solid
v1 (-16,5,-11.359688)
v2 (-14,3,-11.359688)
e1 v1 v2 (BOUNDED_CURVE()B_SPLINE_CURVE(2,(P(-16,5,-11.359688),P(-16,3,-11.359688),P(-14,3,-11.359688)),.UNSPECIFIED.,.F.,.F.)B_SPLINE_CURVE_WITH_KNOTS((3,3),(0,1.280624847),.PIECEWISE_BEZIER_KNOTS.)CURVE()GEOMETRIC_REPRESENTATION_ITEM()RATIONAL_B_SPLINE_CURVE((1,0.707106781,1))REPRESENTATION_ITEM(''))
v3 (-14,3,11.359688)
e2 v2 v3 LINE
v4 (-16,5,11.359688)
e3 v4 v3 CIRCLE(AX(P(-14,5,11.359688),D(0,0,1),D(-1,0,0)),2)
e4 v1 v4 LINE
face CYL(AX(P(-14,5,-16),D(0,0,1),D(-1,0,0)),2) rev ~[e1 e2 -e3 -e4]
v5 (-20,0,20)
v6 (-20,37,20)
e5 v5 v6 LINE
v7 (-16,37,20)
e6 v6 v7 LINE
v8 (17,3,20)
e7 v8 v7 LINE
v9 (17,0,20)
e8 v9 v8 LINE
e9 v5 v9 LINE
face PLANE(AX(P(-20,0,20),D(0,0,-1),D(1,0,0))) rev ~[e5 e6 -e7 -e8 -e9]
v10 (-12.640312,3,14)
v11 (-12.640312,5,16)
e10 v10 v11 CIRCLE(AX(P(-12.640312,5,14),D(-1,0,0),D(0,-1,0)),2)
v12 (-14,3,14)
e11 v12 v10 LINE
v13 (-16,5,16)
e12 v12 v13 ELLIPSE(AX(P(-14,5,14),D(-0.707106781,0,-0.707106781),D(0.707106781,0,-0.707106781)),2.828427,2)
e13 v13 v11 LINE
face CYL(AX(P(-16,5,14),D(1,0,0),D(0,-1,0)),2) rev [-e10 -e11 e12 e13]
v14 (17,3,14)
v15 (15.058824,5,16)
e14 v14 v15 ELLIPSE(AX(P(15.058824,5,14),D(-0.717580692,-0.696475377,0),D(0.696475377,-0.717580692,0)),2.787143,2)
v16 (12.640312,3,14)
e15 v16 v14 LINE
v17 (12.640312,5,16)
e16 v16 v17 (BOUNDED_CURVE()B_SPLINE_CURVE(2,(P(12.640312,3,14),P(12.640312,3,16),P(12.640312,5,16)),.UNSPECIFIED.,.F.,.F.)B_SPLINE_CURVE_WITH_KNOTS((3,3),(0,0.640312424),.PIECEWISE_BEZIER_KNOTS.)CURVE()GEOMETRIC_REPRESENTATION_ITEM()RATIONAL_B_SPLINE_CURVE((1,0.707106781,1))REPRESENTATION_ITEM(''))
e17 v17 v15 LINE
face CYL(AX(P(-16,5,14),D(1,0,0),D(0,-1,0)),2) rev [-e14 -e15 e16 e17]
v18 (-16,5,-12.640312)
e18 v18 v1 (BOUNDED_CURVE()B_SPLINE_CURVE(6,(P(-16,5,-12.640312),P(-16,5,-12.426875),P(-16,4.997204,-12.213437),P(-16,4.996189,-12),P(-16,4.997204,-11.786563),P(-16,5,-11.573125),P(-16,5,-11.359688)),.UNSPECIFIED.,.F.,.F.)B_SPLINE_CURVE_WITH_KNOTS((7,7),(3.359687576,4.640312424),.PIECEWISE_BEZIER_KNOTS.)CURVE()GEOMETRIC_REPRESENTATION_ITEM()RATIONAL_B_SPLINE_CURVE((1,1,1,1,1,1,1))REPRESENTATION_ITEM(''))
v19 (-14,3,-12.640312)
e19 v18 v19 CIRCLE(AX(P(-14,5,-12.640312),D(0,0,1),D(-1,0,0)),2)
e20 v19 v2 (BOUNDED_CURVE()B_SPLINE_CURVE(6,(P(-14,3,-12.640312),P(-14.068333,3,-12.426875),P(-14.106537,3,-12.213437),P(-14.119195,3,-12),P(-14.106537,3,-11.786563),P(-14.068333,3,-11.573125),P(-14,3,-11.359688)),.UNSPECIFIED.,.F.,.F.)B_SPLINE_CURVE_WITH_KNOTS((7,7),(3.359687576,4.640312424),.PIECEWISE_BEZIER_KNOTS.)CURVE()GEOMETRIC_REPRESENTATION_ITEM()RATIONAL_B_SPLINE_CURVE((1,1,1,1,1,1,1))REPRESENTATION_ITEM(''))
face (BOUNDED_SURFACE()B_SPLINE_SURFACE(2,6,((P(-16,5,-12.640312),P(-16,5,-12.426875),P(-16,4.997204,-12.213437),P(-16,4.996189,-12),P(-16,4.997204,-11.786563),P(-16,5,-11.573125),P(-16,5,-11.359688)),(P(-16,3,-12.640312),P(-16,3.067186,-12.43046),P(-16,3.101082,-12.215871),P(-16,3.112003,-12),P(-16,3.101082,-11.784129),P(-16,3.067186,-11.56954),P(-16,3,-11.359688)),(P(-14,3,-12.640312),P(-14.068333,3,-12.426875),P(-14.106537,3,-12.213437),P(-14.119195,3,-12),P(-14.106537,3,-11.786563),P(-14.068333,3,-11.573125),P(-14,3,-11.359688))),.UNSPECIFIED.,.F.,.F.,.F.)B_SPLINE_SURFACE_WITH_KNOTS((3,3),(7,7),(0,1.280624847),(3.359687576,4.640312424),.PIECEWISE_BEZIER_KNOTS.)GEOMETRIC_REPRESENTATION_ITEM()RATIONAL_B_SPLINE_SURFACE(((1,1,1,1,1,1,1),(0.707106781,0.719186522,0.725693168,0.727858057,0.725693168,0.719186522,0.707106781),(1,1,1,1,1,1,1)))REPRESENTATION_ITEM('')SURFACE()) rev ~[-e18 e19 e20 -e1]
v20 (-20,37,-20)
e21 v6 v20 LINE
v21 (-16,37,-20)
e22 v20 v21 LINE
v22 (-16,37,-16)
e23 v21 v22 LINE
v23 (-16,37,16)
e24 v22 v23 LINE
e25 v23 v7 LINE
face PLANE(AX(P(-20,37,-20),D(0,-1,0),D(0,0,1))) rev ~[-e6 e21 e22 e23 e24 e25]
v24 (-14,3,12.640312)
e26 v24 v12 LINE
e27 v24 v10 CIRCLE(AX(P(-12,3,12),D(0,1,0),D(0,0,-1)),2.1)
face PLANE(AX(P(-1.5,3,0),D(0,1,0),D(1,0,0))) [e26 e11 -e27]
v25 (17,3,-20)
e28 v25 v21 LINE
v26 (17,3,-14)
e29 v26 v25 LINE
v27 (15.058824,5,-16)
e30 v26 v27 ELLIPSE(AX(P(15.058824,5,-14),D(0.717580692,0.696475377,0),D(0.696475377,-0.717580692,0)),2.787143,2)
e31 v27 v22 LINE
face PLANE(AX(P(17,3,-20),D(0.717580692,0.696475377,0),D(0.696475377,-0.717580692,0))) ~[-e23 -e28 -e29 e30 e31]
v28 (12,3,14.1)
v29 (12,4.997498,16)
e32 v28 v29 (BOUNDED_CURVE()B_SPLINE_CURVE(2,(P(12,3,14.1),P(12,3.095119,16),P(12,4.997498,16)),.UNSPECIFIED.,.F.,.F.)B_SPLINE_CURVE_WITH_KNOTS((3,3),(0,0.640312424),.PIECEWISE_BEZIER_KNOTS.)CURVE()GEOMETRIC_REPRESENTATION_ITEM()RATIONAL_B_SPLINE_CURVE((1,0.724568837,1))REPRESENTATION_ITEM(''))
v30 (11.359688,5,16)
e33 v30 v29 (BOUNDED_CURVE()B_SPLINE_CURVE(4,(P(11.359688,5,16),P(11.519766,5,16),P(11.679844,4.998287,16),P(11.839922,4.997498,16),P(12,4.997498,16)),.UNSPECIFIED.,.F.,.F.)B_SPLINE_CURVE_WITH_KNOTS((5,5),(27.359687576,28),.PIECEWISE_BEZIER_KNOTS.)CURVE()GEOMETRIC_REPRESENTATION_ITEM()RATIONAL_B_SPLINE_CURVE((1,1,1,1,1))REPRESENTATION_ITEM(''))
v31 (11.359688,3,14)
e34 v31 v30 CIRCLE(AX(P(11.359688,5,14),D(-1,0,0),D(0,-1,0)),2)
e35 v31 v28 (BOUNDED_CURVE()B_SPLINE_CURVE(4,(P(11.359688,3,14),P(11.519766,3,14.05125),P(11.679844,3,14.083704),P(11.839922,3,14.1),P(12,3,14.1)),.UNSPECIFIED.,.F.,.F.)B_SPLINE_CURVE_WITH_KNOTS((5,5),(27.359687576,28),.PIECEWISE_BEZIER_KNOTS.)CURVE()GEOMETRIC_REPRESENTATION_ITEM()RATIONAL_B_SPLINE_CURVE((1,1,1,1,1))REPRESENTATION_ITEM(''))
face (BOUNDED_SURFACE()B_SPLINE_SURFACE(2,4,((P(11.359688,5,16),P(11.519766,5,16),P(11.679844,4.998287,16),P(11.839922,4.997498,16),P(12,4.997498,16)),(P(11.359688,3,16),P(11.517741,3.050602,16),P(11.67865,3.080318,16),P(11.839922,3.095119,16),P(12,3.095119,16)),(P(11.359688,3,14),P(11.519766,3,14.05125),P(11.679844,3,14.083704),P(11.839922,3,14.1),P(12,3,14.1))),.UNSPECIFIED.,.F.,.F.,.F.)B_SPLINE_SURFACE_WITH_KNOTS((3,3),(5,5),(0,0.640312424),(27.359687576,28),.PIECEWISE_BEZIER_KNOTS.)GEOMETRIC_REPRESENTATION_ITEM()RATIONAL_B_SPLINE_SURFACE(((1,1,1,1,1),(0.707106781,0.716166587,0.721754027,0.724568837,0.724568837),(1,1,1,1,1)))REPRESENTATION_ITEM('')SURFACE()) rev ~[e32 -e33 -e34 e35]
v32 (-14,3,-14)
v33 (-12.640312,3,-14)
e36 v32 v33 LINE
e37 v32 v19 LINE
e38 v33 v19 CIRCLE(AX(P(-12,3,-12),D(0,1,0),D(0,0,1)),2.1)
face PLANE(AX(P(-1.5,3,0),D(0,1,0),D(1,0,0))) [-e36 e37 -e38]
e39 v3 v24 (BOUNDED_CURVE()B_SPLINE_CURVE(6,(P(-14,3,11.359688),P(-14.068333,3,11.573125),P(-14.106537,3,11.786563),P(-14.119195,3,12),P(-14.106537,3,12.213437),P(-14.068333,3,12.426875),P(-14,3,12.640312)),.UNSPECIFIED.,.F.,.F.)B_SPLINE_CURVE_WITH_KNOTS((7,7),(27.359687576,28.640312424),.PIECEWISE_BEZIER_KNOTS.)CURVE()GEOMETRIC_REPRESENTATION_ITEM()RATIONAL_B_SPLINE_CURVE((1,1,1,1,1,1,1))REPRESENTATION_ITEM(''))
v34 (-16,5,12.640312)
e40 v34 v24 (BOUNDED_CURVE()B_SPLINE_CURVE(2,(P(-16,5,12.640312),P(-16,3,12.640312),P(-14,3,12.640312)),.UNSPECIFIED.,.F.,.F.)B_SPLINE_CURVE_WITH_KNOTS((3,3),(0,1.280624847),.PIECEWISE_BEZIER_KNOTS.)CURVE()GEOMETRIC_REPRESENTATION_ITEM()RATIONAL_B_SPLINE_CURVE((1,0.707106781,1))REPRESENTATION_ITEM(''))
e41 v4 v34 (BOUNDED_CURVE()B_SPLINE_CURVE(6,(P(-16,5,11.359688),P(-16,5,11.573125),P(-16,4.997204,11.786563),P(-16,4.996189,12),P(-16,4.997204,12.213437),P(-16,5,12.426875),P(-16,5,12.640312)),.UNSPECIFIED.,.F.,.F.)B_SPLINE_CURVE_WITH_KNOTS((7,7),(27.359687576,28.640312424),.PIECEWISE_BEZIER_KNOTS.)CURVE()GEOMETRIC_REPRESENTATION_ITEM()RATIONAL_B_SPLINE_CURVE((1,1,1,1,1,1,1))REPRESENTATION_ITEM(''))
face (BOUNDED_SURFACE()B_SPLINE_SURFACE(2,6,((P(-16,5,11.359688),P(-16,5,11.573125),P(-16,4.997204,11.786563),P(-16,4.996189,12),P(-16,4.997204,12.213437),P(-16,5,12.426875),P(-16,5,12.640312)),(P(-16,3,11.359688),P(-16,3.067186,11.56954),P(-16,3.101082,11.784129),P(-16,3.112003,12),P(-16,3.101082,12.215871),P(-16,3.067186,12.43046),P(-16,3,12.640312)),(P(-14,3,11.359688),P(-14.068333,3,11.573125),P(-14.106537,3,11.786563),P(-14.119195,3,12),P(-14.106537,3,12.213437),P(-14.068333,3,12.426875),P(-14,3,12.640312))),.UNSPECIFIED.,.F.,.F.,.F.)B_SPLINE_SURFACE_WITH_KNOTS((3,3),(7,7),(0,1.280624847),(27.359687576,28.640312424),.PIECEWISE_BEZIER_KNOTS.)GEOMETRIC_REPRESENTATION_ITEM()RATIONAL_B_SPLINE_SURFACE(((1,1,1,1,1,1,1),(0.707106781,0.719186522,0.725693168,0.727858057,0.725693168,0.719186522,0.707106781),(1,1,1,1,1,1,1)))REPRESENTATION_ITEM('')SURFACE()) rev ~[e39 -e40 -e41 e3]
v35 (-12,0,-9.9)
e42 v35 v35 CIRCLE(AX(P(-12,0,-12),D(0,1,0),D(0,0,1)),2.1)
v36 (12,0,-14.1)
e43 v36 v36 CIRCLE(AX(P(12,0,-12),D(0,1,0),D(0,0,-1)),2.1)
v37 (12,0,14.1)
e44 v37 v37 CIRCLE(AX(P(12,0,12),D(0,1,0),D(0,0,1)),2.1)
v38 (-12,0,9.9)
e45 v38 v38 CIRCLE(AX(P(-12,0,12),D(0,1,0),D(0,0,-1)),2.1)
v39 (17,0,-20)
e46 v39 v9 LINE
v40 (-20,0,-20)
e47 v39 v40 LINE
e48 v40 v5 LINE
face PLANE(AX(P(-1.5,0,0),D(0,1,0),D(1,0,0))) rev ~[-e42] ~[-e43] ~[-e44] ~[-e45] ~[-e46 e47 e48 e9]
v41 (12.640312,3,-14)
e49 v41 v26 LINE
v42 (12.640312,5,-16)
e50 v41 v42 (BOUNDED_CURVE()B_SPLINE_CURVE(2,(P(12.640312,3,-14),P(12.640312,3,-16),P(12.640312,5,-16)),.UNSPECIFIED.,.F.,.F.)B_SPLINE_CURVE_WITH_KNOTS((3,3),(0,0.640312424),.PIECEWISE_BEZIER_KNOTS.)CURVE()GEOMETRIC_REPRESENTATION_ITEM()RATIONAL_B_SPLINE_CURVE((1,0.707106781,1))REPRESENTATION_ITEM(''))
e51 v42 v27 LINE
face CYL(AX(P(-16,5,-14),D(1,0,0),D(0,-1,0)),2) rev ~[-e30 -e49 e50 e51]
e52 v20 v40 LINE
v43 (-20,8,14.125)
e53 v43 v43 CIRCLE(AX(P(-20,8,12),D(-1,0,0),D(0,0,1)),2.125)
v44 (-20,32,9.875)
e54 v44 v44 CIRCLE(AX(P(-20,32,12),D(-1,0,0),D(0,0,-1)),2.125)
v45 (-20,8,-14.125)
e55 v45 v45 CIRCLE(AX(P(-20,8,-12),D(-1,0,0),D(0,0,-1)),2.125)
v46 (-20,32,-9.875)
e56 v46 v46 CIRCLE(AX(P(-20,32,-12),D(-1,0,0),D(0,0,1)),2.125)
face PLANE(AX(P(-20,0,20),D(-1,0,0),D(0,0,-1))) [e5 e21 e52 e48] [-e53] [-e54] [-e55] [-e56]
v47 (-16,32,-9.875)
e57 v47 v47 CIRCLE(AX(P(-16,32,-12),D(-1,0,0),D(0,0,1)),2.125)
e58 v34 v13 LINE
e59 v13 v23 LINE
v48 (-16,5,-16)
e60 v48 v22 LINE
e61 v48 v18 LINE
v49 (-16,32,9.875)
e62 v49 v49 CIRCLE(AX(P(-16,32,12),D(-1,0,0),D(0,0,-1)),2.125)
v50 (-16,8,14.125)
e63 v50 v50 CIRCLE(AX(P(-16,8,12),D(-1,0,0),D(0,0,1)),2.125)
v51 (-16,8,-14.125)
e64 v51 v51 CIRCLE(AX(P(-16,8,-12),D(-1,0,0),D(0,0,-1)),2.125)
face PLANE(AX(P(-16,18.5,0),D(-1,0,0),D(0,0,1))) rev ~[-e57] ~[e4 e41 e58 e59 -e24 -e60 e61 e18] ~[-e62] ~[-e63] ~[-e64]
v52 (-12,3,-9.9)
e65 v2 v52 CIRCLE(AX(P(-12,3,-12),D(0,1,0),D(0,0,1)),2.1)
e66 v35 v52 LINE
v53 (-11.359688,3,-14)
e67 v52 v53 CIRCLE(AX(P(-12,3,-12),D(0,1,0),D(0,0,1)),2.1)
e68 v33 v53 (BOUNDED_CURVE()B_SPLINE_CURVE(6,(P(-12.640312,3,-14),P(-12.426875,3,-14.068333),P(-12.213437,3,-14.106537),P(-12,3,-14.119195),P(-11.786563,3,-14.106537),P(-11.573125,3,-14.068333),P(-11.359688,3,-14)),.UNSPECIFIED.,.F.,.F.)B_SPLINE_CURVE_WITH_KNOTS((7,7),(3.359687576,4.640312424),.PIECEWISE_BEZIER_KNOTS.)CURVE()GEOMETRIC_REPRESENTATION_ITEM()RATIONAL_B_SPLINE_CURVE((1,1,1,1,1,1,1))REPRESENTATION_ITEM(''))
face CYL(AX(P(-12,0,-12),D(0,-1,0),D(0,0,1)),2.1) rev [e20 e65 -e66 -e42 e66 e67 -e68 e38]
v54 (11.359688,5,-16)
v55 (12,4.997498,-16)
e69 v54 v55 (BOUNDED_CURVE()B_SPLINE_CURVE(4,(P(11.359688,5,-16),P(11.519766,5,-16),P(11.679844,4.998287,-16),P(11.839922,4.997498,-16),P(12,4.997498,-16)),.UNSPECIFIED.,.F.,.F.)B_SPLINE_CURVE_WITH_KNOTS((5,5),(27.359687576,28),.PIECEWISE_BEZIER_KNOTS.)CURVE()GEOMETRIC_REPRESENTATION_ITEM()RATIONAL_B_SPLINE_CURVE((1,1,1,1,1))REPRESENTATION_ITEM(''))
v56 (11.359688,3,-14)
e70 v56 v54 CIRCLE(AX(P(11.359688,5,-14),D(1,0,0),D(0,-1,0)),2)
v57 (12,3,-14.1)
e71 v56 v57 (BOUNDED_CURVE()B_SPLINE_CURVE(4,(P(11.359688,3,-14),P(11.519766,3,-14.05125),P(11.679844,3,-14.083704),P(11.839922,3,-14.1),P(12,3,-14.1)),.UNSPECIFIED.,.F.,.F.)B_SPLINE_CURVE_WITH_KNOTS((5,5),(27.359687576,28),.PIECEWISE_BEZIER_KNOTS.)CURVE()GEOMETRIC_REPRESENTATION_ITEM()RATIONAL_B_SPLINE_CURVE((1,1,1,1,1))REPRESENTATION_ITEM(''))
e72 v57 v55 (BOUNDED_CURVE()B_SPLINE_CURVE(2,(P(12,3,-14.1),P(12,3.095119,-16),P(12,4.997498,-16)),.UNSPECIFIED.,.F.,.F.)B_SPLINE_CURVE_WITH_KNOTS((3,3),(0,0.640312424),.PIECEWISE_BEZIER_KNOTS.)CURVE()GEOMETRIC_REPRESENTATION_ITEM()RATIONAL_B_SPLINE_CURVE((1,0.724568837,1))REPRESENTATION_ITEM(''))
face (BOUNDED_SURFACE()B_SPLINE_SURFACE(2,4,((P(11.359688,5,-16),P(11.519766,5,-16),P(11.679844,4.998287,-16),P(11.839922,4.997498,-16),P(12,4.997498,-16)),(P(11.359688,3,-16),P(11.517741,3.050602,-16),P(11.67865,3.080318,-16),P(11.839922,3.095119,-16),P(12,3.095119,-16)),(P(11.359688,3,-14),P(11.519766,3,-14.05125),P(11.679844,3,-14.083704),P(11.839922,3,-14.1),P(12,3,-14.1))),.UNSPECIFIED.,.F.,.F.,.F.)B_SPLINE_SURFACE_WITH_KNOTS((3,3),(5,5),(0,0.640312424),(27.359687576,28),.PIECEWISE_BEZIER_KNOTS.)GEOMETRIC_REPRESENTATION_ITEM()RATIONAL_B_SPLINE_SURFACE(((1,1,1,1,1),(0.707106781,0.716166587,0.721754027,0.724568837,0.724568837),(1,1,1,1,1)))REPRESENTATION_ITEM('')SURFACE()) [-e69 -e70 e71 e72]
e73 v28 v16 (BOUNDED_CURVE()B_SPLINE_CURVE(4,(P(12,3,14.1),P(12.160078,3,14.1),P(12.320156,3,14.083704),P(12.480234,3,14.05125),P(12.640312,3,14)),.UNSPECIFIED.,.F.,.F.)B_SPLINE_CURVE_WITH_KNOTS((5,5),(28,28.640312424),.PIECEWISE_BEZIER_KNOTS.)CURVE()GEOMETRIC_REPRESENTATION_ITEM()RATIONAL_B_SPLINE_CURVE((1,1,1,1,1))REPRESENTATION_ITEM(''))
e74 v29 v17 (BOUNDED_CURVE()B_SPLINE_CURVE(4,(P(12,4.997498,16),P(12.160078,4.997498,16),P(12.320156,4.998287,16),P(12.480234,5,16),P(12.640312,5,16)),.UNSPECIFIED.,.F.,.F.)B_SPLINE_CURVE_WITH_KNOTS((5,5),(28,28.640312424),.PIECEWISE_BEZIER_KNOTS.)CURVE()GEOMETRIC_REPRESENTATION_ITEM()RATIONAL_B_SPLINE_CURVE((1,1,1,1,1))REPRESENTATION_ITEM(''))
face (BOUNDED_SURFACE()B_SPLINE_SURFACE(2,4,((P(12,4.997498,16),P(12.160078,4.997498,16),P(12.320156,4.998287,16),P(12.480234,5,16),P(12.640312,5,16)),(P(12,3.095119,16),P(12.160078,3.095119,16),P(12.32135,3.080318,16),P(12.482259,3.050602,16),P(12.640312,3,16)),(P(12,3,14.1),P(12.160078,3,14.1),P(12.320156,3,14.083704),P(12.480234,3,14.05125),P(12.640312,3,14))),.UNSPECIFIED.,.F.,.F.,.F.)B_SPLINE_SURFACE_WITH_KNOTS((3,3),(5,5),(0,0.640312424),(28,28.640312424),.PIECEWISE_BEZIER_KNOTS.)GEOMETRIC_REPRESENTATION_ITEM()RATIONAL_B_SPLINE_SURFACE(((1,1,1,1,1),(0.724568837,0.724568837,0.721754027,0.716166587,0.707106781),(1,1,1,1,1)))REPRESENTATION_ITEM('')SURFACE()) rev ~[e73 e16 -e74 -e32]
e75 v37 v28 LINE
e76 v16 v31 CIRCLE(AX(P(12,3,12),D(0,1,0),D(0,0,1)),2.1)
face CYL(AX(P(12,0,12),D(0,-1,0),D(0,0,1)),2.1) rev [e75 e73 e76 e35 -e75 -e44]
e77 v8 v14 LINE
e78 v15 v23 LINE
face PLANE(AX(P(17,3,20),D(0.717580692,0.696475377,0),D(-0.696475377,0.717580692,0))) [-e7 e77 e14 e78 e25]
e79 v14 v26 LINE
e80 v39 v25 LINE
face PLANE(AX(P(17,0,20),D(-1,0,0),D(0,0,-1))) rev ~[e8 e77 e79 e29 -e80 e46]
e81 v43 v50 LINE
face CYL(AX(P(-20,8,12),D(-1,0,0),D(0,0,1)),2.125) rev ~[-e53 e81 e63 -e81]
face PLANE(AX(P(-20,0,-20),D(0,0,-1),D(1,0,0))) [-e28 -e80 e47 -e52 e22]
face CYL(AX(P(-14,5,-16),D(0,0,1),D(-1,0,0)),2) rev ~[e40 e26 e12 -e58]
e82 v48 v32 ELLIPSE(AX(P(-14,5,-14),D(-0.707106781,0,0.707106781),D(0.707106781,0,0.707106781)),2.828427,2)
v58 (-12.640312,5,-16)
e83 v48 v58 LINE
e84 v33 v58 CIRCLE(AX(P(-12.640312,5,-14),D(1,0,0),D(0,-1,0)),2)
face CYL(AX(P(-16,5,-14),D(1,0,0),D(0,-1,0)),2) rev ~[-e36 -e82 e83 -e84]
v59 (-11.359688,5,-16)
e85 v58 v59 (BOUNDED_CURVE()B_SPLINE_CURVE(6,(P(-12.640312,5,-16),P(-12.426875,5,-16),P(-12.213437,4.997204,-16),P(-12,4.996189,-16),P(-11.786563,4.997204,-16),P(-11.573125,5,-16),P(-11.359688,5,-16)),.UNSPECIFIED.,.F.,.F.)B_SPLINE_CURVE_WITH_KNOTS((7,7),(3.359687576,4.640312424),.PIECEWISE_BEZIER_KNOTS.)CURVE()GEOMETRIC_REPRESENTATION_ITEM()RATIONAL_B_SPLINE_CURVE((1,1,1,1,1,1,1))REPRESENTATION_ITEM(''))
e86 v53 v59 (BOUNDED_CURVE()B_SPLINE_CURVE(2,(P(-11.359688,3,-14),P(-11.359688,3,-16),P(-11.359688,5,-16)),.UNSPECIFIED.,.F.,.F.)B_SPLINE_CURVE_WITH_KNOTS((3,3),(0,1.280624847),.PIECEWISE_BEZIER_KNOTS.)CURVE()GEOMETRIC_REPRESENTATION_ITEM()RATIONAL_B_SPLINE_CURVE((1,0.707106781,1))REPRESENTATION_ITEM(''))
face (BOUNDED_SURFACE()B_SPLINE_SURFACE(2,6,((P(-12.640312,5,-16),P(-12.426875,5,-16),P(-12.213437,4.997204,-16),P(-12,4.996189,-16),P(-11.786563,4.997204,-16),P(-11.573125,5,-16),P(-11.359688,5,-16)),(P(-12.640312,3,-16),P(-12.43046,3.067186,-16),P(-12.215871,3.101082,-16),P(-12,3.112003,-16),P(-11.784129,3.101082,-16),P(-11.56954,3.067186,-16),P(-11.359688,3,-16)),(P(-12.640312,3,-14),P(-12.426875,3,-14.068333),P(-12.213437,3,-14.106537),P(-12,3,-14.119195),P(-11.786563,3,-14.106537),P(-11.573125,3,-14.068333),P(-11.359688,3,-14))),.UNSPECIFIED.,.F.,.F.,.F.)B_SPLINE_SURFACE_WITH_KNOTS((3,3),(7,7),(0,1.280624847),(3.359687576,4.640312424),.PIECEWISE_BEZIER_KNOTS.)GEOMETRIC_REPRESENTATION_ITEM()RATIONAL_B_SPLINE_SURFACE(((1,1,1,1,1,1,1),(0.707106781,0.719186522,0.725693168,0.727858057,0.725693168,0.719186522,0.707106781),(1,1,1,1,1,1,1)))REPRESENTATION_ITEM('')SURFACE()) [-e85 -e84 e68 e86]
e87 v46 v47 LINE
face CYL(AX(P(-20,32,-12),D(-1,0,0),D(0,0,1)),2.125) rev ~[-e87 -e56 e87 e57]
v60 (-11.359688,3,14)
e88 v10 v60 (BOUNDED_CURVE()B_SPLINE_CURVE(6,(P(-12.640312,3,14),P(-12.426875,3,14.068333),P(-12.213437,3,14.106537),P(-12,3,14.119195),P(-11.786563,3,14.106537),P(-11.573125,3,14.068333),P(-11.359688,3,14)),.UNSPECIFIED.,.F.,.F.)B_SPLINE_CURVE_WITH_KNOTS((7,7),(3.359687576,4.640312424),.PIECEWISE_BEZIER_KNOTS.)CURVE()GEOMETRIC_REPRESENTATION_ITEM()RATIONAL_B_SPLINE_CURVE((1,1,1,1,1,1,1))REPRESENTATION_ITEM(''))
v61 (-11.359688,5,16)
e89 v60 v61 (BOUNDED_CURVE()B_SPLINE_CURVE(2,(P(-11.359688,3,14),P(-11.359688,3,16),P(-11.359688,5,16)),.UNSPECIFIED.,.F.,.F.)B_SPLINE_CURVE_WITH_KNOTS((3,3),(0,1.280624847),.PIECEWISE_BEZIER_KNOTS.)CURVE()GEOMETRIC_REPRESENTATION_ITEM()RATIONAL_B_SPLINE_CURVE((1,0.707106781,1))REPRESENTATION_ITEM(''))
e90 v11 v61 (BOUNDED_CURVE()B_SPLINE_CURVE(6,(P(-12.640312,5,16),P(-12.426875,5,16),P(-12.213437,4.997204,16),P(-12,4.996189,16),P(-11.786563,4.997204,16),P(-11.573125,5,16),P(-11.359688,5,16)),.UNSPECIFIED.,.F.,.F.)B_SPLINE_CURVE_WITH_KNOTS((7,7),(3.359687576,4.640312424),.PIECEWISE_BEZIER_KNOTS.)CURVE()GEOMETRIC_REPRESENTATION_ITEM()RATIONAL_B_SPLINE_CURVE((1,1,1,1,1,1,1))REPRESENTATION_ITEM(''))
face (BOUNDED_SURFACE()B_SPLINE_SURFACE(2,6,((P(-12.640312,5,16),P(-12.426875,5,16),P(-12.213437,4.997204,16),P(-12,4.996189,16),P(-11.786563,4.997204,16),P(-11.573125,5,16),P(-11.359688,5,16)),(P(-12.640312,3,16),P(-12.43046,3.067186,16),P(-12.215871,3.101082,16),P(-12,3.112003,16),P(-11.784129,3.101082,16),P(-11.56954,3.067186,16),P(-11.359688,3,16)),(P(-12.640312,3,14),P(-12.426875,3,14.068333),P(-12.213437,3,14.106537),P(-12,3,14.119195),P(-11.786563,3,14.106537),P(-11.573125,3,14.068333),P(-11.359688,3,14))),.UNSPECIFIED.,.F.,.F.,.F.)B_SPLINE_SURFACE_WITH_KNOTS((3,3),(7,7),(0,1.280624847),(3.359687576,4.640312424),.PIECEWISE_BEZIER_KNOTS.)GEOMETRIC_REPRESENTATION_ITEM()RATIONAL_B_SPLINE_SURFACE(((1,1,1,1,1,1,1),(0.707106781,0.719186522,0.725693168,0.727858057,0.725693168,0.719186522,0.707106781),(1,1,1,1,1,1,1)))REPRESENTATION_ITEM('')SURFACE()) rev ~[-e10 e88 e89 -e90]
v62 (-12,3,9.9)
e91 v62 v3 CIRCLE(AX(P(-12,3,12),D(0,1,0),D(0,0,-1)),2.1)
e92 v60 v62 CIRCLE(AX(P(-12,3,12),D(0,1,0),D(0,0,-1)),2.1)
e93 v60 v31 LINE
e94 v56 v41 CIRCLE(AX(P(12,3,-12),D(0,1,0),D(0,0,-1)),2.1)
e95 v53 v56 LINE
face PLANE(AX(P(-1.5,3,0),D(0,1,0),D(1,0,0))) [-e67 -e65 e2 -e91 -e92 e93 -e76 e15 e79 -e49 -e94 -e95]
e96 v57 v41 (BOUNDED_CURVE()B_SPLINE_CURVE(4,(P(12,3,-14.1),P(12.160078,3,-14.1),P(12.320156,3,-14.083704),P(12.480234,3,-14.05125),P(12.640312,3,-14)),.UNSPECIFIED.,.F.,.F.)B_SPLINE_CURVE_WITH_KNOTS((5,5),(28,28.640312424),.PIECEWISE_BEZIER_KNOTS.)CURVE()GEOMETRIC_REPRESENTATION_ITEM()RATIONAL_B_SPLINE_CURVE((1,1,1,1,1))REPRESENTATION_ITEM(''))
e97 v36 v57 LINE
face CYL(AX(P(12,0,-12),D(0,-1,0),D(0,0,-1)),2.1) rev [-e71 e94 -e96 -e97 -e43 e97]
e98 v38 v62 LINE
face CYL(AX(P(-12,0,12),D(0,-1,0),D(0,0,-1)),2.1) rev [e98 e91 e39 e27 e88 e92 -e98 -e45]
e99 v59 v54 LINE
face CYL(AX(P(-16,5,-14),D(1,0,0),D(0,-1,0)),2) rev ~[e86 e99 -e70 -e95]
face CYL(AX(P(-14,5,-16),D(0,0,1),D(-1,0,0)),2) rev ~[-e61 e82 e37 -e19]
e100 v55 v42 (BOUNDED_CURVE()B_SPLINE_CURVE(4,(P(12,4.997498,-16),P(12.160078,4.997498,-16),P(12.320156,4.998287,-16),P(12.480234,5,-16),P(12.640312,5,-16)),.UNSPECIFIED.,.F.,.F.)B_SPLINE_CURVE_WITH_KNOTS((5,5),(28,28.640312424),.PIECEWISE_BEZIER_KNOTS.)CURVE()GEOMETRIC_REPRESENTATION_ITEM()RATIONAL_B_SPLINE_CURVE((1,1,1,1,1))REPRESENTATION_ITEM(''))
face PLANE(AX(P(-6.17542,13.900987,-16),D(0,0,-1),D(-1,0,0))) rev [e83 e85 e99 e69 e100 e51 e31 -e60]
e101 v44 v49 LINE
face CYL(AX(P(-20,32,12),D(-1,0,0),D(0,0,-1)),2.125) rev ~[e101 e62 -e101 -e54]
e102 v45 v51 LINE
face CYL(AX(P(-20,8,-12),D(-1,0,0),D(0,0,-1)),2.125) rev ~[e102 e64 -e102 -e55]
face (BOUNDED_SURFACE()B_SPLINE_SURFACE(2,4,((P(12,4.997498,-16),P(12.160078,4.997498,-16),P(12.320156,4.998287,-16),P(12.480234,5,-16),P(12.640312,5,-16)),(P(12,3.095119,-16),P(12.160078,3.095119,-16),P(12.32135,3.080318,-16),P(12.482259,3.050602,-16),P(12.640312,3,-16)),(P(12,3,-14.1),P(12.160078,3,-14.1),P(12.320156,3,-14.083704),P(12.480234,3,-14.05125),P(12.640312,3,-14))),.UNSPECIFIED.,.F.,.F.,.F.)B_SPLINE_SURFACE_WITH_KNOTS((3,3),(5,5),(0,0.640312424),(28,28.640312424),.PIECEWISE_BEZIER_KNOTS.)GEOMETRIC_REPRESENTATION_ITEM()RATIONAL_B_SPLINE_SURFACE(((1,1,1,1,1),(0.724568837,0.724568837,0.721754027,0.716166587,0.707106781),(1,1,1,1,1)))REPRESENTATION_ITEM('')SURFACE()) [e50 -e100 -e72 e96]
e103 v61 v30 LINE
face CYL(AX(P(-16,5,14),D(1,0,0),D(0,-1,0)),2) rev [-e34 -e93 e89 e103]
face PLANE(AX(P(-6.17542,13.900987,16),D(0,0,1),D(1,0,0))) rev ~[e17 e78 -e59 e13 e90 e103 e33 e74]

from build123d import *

# Parameters (mm, degrees)
SSS_W               = 37
SSS_H               = 40
SSS_R               = 2.1
BOSS_EXTRUDE2_DEPTH = 3
SKETCH1_W           = 40
SKETCH1_H           = 37
SKETCH1_R           = 2.125
BOSS_EXTRUDE3_DEPTH = 4
BOSS_EXTRUDE4_DEPTH = 4
FILLET1_R           = 2


with BuildPart() as part:
    # sss → Boss-Extrude2 (new body)
    with BuildSketch(Plane(origin=(0, 0, 0), x_dir=(1, 0, 0), z_dir=(0, 1, 0))):
        with Locations((-1.5, 0)):
            Rectangle(SSS_W, SSS_H)
        with Locations(Location((-12, 12, 0), (0, 0, 270))):
            Circle(SSS_R, mode=Mode.SUBTRACT)
        with Locations(Location((12, 12, 0), (0, 0, 90))):
            Circle(SSS_R, mode=Mode.SUBTRACT)
        with Locations(Location((12, -12, 0), (0, 0, 270))):
            Circle(SSS_R, mode=Mode.SUBTRACT)
        with Locations(Location((-12, -12, 0), (0, 0, 90))):
            Circle(SSS_R, mode=Mode.SUBTRACT)
    extrude(amount=BOSS_EXTRUDE2_DEPTH)

    # Sketch1 → Boss-Extrude3 (add)
    with BuildSketch(Plane.ZY.offset(20)):
        with Locations((0, 18.5)):
            Rectangle(SKETCH1_W, SKETCH1_H)
        with Locations((-12, 32)):
            Circle(SKETCH1_R, mode=Mode.SUBTRACT)
        with Locations(Location((12, 32, 0), (0, 0, 180))):
            Circle(SKETCH1_R, mode=Mode.SUBTRACT)
        with Locations((12, 8)):
            Circle(SKETCH1_R, mode=Mode.SUBTRACT)
        with Locations(Location((-12, 8, 0), (0, 0, 180))):
            Circle(SKETCH1_R, mode=Mode.SUBTRACT)
    extrude(amount=-BOSS_EXTRUDE3_DEPTH)

    # Sketch2 → Boss-Extrude4 (add)
    with BuildSketch(Plane.XY.offset(20)):
        Polygon((-20, 37), (-20, 0), (17, 0), (17, 3), (-16, 37), align=None)
    boss_extrude4 = extrude(amount=-BOSS_EXTRUDE4_DEPTH)

    # Mirror1: Boss-Extrude4 across plane
    add(boss_extrude4.mirror(Plane.XY))

    # Fillet1
    fillet1_edges = [part.edges().sort_by_distance(p)[0] for p in [
        (0.5, 3, 16),
        (-16, 3, 0),
        (0.5, 3, -16),
    ]]
    fillet(fillet1_edges, radius=FILLET1_R)


solid = part.part
